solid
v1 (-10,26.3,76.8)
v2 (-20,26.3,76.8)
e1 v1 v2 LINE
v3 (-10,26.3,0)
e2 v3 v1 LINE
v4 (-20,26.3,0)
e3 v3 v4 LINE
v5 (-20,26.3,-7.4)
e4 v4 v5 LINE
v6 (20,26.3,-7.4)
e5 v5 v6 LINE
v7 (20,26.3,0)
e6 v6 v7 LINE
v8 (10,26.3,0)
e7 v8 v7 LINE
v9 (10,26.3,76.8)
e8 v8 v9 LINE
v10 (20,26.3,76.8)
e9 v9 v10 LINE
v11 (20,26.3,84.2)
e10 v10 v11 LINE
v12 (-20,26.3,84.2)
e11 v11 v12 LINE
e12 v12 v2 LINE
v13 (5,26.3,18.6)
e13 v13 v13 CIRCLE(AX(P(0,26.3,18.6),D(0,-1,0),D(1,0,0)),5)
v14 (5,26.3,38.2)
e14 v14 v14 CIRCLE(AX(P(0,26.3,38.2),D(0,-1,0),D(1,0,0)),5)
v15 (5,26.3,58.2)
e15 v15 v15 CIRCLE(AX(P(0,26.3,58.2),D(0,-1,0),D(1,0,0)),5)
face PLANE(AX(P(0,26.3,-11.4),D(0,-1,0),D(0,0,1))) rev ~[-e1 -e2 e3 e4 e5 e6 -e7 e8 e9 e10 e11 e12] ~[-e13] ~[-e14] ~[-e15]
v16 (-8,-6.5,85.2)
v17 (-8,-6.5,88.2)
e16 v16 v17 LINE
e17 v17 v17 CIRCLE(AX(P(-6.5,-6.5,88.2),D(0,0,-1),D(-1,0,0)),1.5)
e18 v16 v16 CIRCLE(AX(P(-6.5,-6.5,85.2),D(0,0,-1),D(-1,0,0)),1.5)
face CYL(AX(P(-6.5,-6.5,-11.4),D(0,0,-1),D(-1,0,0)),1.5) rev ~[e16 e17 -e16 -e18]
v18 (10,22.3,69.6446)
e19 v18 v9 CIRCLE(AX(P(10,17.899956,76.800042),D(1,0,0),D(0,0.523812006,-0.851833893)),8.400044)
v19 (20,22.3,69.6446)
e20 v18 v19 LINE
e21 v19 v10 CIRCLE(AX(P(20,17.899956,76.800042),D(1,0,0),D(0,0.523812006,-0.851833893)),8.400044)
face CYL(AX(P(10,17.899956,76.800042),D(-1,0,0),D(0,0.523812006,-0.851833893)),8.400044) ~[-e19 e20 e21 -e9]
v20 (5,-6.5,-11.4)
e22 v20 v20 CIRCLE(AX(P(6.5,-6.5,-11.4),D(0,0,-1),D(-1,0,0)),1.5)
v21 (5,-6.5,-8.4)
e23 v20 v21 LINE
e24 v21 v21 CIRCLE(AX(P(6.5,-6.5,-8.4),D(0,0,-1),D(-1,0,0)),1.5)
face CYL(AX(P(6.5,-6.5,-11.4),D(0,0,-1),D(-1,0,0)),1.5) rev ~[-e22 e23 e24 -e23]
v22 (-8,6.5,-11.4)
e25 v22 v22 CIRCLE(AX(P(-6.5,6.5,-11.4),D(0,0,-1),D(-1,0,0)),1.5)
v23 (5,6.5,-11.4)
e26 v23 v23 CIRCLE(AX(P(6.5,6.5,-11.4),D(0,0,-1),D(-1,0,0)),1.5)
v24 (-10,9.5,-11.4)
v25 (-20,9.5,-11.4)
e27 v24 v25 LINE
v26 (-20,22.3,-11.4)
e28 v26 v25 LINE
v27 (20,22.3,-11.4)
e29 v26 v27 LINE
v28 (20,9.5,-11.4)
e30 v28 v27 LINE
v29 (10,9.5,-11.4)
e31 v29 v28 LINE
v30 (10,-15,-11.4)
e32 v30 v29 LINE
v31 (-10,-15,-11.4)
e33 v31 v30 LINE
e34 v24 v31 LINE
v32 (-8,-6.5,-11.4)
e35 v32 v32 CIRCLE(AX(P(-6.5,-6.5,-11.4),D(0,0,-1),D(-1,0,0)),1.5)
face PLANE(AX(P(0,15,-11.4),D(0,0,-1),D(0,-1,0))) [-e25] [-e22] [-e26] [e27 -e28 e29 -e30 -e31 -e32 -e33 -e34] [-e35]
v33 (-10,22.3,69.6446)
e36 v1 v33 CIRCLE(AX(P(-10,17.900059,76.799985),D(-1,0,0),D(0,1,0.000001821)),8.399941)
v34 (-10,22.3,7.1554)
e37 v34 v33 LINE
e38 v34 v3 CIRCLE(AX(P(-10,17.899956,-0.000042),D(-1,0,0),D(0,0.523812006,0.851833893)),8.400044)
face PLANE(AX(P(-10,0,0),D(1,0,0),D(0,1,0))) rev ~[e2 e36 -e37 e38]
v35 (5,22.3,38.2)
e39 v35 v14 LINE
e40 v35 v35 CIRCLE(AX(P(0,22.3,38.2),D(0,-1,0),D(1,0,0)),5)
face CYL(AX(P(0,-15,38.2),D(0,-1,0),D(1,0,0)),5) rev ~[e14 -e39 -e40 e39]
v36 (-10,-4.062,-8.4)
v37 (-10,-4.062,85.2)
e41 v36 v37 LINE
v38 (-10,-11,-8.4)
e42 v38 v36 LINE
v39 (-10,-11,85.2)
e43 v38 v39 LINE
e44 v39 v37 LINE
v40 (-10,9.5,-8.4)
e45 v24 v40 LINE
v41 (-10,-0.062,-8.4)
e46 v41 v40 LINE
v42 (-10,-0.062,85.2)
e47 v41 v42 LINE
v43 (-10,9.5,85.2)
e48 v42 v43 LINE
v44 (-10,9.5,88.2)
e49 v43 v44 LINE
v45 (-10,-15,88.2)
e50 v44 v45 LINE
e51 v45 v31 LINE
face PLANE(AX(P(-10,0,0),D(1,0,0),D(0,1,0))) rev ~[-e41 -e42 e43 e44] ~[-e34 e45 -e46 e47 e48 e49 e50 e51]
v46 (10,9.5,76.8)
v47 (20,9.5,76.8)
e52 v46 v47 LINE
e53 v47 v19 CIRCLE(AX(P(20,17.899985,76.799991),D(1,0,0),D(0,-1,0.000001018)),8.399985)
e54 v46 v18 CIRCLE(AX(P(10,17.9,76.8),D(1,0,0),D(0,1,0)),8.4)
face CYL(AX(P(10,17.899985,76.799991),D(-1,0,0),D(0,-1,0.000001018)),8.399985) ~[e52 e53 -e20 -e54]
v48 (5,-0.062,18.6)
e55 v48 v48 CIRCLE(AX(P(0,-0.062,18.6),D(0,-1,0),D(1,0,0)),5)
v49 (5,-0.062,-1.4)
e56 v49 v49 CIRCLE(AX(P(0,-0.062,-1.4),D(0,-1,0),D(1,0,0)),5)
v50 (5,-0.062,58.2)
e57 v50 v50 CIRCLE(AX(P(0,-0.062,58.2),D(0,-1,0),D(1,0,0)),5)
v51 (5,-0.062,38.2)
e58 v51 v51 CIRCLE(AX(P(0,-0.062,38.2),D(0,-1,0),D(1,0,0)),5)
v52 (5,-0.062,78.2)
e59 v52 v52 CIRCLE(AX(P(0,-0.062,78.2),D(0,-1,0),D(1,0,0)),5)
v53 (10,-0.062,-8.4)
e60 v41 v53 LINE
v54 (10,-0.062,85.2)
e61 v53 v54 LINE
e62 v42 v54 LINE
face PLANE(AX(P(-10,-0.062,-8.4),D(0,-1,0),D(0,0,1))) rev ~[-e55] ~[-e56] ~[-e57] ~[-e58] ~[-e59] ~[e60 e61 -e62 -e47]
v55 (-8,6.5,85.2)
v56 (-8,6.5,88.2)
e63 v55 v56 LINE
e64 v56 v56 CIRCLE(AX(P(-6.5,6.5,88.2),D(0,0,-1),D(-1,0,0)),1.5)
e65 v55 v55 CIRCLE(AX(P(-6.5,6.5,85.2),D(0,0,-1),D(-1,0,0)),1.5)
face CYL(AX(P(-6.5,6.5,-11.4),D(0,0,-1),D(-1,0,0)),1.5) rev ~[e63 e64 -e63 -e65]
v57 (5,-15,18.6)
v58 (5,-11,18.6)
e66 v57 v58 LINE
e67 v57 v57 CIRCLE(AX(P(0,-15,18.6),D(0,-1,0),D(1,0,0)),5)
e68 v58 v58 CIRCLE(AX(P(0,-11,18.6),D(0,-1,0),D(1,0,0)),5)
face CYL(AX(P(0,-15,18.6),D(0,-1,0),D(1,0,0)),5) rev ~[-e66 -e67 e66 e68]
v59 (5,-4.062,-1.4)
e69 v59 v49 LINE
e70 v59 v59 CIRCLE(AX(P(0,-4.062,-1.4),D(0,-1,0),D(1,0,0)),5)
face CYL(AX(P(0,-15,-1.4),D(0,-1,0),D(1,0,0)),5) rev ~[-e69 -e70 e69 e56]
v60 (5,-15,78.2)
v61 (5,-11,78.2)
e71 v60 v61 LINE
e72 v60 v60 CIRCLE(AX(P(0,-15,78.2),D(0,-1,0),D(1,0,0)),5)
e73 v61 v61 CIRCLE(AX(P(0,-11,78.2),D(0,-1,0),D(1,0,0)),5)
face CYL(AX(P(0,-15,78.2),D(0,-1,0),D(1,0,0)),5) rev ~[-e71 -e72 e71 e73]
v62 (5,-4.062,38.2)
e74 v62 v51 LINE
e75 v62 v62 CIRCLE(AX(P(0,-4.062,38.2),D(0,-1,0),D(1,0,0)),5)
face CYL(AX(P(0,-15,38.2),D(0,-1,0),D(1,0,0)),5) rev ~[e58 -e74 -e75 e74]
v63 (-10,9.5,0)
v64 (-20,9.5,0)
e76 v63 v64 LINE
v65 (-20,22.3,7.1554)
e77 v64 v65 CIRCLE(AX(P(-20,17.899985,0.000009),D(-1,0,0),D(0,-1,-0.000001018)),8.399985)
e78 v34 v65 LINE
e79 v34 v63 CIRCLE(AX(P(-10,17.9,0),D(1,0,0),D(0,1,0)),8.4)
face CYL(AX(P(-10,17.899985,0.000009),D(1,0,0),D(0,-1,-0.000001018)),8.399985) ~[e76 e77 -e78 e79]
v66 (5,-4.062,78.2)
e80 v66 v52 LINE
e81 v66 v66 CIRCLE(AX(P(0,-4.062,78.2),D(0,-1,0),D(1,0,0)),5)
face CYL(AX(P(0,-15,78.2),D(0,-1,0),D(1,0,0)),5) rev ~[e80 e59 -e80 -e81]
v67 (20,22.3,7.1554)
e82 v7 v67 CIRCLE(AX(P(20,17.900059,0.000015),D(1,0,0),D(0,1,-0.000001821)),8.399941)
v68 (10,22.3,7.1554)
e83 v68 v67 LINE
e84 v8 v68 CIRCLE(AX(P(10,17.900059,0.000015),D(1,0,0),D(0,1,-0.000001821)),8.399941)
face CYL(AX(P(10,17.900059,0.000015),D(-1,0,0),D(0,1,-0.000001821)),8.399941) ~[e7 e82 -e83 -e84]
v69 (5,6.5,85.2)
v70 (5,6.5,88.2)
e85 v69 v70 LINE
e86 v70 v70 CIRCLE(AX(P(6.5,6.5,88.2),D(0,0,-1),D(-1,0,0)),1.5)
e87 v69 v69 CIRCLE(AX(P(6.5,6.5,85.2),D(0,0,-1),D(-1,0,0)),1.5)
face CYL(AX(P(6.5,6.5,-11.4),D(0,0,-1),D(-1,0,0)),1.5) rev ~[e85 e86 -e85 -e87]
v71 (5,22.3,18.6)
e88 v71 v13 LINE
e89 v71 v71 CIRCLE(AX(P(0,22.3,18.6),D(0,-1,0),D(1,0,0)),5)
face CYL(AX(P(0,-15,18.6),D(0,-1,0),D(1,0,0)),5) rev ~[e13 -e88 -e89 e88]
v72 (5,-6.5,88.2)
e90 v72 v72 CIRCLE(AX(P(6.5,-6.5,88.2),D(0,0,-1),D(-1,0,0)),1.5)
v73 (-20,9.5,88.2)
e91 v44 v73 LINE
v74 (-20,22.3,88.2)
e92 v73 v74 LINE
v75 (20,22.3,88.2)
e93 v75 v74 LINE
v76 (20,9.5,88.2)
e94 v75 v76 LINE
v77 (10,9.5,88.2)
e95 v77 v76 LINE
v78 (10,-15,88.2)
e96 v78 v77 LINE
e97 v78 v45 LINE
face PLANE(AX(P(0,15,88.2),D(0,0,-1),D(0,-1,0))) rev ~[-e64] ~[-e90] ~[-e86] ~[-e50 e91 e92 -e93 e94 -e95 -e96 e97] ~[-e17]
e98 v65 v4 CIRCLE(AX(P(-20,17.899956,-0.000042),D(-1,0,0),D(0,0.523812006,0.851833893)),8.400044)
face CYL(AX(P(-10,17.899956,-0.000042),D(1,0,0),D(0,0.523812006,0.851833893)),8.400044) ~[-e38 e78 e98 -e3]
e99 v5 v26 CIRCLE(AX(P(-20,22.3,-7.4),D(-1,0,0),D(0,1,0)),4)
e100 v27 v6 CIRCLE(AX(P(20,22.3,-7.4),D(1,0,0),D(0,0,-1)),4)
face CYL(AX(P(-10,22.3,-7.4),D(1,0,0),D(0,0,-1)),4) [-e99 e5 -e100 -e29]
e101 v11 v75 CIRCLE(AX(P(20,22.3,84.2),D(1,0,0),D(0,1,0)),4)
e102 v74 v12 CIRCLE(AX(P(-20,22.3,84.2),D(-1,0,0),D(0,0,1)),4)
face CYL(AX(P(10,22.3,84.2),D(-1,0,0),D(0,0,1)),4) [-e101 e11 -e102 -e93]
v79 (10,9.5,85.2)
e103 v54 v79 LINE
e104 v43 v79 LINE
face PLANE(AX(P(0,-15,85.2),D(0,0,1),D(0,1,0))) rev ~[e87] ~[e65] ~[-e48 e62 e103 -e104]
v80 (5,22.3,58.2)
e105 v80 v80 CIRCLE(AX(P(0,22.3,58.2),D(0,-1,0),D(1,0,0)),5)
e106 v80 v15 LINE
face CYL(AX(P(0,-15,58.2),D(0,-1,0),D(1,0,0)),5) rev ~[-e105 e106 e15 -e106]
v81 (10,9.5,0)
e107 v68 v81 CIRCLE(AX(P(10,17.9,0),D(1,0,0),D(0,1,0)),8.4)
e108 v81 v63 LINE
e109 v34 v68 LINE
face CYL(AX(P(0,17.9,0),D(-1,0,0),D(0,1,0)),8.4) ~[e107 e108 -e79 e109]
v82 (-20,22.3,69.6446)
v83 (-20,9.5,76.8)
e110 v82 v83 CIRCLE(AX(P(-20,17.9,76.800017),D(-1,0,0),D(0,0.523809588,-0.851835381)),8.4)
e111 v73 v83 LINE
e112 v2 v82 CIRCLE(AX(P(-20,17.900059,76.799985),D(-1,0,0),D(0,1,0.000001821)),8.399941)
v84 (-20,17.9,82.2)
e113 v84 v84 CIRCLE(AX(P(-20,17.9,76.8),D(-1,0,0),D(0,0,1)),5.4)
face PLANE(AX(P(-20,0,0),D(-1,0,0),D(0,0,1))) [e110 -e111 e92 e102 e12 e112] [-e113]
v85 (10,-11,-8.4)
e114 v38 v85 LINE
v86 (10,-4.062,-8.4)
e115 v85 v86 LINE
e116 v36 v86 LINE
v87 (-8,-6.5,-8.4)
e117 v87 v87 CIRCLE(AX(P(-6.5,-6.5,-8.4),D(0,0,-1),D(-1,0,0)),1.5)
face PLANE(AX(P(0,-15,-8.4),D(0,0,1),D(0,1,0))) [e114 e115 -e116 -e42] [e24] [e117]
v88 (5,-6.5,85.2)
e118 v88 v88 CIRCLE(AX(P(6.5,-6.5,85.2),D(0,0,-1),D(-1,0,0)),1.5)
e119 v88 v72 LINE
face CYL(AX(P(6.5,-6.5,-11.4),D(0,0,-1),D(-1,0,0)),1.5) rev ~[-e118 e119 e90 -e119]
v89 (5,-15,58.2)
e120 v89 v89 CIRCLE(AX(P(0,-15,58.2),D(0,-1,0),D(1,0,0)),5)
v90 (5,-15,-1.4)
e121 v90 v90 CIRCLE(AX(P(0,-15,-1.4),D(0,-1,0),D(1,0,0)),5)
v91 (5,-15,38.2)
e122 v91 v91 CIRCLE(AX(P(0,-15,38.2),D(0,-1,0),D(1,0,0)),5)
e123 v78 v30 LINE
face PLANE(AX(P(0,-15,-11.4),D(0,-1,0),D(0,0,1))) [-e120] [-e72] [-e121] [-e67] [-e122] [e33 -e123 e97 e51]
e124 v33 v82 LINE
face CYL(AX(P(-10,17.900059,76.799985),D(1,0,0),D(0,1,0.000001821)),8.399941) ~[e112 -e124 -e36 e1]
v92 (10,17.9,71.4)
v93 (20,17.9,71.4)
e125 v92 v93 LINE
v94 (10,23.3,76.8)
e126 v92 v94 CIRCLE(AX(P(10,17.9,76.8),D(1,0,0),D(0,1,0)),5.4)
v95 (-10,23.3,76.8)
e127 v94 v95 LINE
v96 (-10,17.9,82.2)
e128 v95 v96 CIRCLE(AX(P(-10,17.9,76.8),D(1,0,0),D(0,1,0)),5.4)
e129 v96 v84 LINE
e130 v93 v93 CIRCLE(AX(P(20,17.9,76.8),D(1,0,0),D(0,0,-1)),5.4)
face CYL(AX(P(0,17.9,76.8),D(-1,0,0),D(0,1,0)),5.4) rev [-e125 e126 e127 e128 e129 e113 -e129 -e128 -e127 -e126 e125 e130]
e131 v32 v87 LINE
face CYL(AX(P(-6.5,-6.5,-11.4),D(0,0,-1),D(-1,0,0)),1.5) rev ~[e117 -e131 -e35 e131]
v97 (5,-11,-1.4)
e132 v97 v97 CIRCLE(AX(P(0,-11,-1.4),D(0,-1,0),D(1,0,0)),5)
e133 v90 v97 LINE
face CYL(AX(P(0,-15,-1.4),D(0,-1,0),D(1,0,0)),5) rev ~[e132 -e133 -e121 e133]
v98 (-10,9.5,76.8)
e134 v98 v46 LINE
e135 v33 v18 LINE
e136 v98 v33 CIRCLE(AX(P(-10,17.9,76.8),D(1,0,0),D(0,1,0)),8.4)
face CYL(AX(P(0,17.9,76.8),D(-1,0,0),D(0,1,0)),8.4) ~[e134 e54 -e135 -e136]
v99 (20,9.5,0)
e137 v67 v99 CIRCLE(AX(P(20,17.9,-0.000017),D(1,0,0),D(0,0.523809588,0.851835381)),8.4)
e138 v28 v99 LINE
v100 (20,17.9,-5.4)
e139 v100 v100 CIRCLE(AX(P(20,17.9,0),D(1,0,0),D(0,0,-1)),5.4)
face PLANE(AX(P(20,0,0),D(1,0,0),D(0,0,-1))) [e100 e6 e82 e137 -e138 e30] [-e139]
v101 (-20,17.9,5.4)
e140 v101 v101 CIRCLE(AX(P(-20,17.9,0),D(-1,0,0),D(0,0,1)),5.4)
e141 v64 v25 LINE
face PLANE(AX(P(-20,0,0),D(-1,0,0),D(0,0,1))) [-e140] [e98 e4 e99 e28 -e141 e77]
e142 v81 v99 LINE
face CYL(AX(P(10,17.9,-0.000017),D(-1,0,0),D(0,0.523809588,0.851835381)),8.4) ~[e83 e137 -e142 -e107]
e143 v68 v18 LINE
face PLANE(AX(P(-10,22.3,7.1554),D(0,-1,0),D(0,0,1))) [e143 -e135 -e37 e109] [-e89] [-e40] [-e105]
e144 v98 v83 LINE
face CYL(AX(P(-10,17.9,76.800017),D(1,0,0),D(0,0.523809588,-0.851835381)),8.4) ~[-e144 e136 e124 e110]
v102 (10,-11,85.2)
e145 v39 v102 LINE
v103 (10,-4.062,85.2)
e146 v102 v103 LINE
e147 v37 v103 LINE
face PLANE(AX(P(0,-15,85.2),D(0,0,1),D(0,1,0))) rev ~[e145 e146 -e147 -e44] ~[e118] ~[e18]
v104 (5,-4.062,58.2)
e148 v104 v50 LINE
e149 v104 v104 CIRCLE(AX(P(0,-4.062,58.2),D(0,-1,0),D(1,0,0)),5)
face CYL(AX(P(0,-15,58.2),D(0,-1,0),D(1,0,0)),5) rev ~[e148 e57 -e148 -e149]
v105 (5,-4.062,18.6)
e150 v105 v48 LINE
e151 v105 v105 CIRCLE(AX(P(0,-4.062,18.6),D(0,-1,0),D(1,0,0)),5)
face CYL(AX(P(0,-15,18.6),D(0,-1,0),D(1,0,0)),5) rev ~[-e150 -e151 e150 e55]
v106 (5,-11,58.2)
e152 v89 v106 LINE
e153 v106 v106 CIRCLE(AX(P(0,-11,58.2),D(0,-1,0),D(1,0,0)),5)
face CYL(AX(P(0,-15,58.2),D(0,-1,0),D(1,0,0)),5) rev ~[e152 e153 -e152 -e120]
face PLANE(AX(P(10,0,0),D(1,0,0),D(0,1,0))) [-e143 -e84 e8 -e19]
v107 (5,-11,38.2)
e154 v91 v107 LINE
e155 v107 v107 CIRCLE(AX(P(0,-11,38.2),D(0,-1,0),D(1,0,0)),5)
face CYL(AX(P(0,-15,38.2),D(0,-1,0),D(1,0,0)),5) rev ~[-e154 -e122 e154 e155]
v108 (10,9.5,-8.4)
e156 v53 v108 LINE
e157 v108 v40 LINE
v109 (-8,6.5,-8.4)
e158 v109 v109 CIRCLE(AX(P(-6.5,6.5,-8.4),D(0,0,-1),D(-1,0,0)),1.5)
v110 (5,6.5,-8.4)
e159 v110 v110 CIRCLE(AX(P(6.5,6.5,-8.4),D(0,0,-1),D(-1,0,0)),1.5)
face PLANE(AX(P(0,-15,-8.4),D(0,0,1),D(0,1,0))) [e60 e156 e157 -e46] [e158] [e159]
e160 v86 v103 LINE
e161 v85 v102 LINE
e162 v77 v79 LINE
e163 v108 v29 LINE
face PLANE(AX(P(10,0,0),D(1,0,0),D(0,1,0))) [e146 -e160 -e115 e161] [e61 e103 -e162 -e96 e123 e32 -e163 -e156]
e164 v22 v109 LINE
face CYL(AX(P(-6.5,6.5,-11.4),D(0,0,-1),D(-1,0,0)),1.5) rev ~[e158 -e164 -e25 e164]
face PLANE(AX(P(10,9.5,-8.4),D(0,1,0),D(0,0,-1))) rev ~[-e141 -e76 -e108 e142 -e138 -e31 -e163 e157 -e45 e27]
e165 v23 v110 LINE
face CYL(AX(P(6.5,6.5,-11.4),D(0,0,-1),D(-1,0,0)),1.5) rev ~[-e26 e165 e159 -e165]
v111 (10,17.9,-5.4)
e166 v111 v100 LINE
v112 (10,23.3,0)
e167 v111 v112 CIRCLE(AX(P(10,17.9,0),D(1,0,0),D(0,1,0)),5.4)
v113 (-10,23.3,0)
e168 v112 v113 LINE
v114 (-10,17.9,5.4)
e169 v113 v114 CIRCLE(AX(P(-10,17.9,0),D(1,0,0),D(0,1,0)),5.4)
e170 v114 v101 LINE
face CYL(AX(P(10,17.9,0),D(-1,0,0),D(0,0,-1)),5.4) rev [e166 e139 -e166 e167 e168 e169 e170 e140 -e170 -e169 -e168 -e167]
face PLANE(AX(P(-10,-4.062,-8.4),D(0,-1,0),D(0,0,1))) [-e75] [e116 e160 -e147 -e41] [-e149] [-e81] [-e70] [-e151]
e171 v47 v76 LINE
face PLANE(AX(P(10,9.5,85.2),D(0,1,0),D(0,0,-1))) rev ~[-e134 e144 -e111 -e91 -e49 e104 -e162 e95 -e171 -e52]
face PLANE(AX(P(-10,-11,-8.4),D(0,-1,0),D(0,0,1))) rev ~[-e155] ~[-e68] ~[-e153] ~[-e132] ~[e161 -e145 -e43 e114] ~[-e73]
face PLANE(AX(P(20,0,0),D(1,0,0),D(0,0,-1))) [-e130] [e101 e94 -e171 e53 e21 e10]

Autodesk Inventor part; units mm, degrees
ref_plane "YZ Plane" through (0, 0, 0) normal (1, 0, 0) x (0, 1, 0)
ref_plane "XZ Plane" through (0, 0, 0) normal (0, 1, 0) x (-1, 0, 0)
ref_plane "XY Plane" through (0, 0, 0) normal (0, 0, 1) x (1, 0, 0)
sketch "스케치1" plane through (0, 0, 0) normal (1, 0, 0) x (0, 1, 0)
  line L0 (-15, -8.4) -> (15, -8.4)
  line L1 (15, -8.4) -> (15, -11.4)
  line L2 (15, -11.4) -> (-15, -11.4)
  line L3 (-15, -11.4) -> (-15, -8.4)
  line L4 (-15, -8.4) -> (15, -11.4) construction
  line L5 (15, -8.4) -> (-15, -11.4) construction
  line L6 (-10.7716, 0) -> (20.6854, 0) construction
  circle A0 centre (17.9, 0) radius 5.4
  circle A1 centre (17.9, 0) radius 8.4
  line L7 (9.5, -4.3302) -> (9.5, -23.7251) construction
  line L8 (15, -8.4) -> (17.9, -8.4)
  line L9 (9.5, 0) -> (9.5, -8.4)
  line L10 (56.0253, 38.4) -> (-49.003, 38.4) construction
  line L11 (-15, 85.2) -> (15, 85.2)
  line L12 (15, 85.2) -> (15, 88.2)
  line L13 (15, 88.2) -> (-15, 88.2)
  line L14 (-15, 88.2) -> (-15, 85.2)
  line L15 (-15, 85.2) -> (15, 88.2) construction
  line L16 (15, 85.2) -> (-15, 88.2) construction
  line L17 (-10.7716, 76.8) -> (20.6854, 76.8) construction
  circle A2 centre (17.9, 76.8) radius 5.4
  circle A3 centre (17.9, 76.8) radius 8.4
  line L18 (9.5, 81.1302) -> (9.5, 100.5251) construction
  line L19 (15, 85.2) -> (17.9, 85.2)
  line L20 (9.5, 76.8) -> (9.5, 85.2)
  line L21 (15, -11.4) -> (26.3, -11.4)
  line L22 (26.3, -11.4) -> (26.3, 0)
  line L23 (15, 88.2) -> (26.3, 88.2)
  line L24 (26.3, 88.2) -> (26.3, 76.8)
  point P0 (0, -9.9)
  point P1 (6.5, -8.4)
  point P2 (22.1201, -7.263)
  point P3 (0, 86.7)
  point P4 (6.5, 85.2)
  point P5 (22.1201, 84.063)
  dimension "d2" = 30
  dimension "d3" = 3
  dimension "d9" = 10.8
  dimension "d10" = 16.8
  dimension "d11" = 8.5
  dimension "d12" = 3
  dimension "d20" = 38.4
extrude "돌출1" add sketch "스케치1" along normal mid plane 20
fillet "모깎기1" radius 4 2 edges at (0, 26.3, -11.4) (0, 26.3, 88.2)
sketch "스케치4" plane through (10, -15, -11.4) normal (0, 0, -1) x (-1, 0, 0)
  line L0 (-6.6272, 15) -> (50.9826, 15) construction
  line L1 (10, 54.1091) -> (10, -11.8144) construction
  circle A0 centre (3.5, 8.5) radius 1.5
  line L2 (20, 0) -> (0, 0) projected
  line L3 (0, 0) -> (0, 37.3) projected
  circle A1 centre (16.5, 8.5) radius 1.5
  circle A2 centre (3.5, 21.5) radius 1.5
  circle A3 centre (16.5, 21.5) radius 1.5
  circle A4 centre (10, 32.9) radius 1.25
  line L4 (20, 41.3) -> (0, 41.3) projected
  point P0 (10, 15)
  dimension "d22" = 3
  dimension "d23" = 8.5
  dimension "d24" = 3.5
  dimension "d27" = 2.5
  dimension "d28" = 8.4
extrude "돌출4" cut sketch "스케치4" against normal through all contours A0 | A1 | A2 | A3
sketch "스케치5" plane through (-10, 0, 0) normal (-1, 0, 0) x (0, 0, 1)
  circle A0 centre (0, 17.9) radius 5.4 projected
  arc A1 (-7.4, 26.3) -> (-11.4, 22.3) centre (-7.4, 22.3) ccw projected
  line L0 (-11.4, 22.3) -> (-11.4, -15) projected
  line L1 (-11.4, -15) -> (-8.4, -15) projected
  line L2 (-8.4, -15) -> (-8.4, 9.5) projected
  line L3 (-8.4, 9.5) -> (0, 9.5) projected
  arc A2 (0, 9.5) -> (0, 26.3) centre (0, 17.9) ccw projected
  line L4 (0, 26.3) -> (-7.4, 26.3) projected
  circle A3 centre (76.8, 17.9) radius 5.4 projected
  arc A4 (88.2, 22.3) -> (84.2, 26.3) centre (84.2, 22.3) ccw projected
  line L5 (84.2, 26.3) -> (76.8, 26.3) projected
  arc A5 (76.8, 26.3) -> (76.8, 9.5) centre (76.8, 17.9) ccw projected
  line L6 (76.8, 9.5) -> (85.2, 9.5) projected
  line L7 (85.2, 9.5) -> (85.2, -15) projected
  line L8 (85.2, -15) -> (88.2, -15) projected
  line L9 (88.2, -15) -> (88.2, 22.3) projected
  line L10 (-8.4, -15) -> (85.2, -15)
  line L11 (-8.4, -11) -> (85.2, -11)
  line L12 (85.2, -15) -> (88.2, -15) projected
  line L13 (-8.4, 9.5) -> (-8.4, -15) projected
  line L14 (0, 26.3) -> (76.8, 26.3)
  circle A6 centre (0, 17.9) radius 5.4 projected
  circle A7 centre (76.8, 17.9) radius 5.4 projected
  line L15 (-8.4, -2.062) -> (85.2, -2.062) construction
  line L16 (-8.4, -4.062) -> (85.2, -4.062)
  line L17 (7.1554, 22.3) -> (69.6446, 22.3)
  line L18 (-8.4, -0.062) -> (85.2, -0.062)
  point P0 (0, 0)
  point P1 (0, -6.5)
  point P2 (0, 6.5)
  point P3 (0, 0)
  dimension "d29" = 4
  dimension "d31" = 8.5
  dimension "d32" = 13
  dimension "d33" = 6.5
  dimension "d34" = 2
  dimension "d35" = 4
extrude "돌출5" add sketch "스케치5" against normal up to surface (20 mm away) contours L14 A5 L17 A2 | L2 L11 L7 L10 | L2 L18 L7 L16
sketch "스케치6" plane through (-10, -15, -11.4) normal (0, -1, 0) x (1, 0, 0)
  circle A0 centre (10, 10) radius 5
  line L0 (0, 0) -> (20, 0) projected
  line L1 (10, 10) -> (10, 54.4458) construction
  circle A1 centre (10, 89.6) radius 5
  line L2 (0, 99.6) -> (20, 99.6) projected
  circle A2 centre (10, 30) radius 5
  circle A3 centre (10, 69.6) radius 5
  circle A4 centre (10, 49.6) radius 5
  point P0 (10, 11.4)
  dimension "d38" = 10
  dimension "d39" = 10
  dimension "d40" = 10
  dimension "d41" = 10
  dimension "d44" = 20
  dimension "d51" = 20
extrude "돌출6" cut sketch "스케치6" against normal up to surface (14.938 mm away)
extrude "돌출7" cut sketch "스케치6" against normal through all contours A2 | A3 | A4
sketch "스케치7" plane through (-10, 0, 0) normal (-1, 0, 0) x (0, 0, 1)
  arc A0 (0, 9.5) -> (7.1554, 22.3) centre (0, 17.9) ccw projected
  arc A1 (69.6446, 22.3) -> (76.8, 9.5) centre (76.8, 17.9) ccw projected
  line L0 (-8.4, 9.5) -> (0, 9.5) projected
  line L1 (-11.4, 22.3) -> (-11.4, -15) projected
  arc A2 (-7.4, 26.3) -> (-11.4, 22.3) centre (-7.4, 22.3) ccw projected
  line L2 (84.2, 26.3) -> (-7.4, 26.3) projected
  arc A3 (88.2, 22.3) -> (84.2, 26.3) centre (84.2, 22.3) ccw projected
  line L3 (88.2, -15) -> (88.2, 22.3) projected
  line L4 (76.8, 9.5) -> (85.2, 9.5) projected
  line L5 (-8.4, 9.5) -> (-11.4, 9.5)
  line L6 (85.2, 9.5) -> (88.2, 9.5)
  arc A4 (7.1554, 22.3) -> (0, 26.3) centre (0, 17.9) ccw
  line L7 (7.1554, 22.3) -> (69.6446, 22.3) projected
  arc A5 (76.8, 26.3) -> (69.6446, 22.3) centre (76.8, 17.9) ccw
  circle A6 centre (0, 17.9) radius 5.4 projected
  circle A7 centre (76.8, 17.9) radius 5.4 projected
  point P0 (0, 0)
extrude "돌출8" add sketch "스케치7" along normal blind 10 contours L0 L5 L1 A2 L2 A4 A0 | A5 L2 A3 L3 L6 L4 A1
sketch "스케치8" plane through (10, 0, 0) normal (1, 0, 0) x (0, 0, -1)
  line L0 (0, 9.5) -> (8.4, 9.5) projected
  arc A0 (-7.1554, 22.3) -> (0, 9.5) centre (0, 17.9) ccw projected
  arc A1 (0, 26.3) -> (-7.1554, 22.3) centre (0, 17.9) ccw projected
  line L1 (7.4, 26.3) -> (-84.2, 26.3) projected
  arc A2 (11.4, 22.3) -> (7.4, 26.3) centre (7.4, 22.3) ccw projected
  line L2 (11.4, -15) -> (11.4, 22.3) projected
  circle A3 centre (0, 17.9) radius 5.4 projected
  line L3 (8.4, 9.5) -> (11.4, 9.5) projected
  arc A4 (-76.8, 9.5) -> (-69.6446, 22.3) centre (-76.8, 17.9) ccw projected
  line L4 (-85.2, 9.5) -> (-76.8, 9.5) projected
  arc A5 (-69.6446, 22.3) -> (-76.8, 26.3) centre (-76.8, 17.9) ccw projected
  arc A6 (-84.2, 26.3) -> (-88.2, 22.3) centre (-84.2, 22.3) ccw projected
  circle A7 centre (-76.8, 17.9) radius 5.4 projected
  line L5 (-88.2, 9.5) -> (-85.2, 9.5) projected
  line L6 (-88.2, 22.3) -> (-88.2, -15) projected
  point P0 (0, 0)
extrude "돌출9" add sketch "스케치8" along normal blind 10
sketch "스케치9" plane through (10, -15, -11.4) normal (0, 0, -1) x (-1, 0, 0)
  circle A0 centre (16.5, 8.5) radius 1.5 projected
  circle A1 centre (3.5, 8.5) radius 1.5 projected
  circle A2 centre (3.5, 21.5) radius 1.5 projected
  circle A3 centre (16.5, 21.5) radius 1.5 projected
  line L0 (-10, 37.3) -> (30, 37.3) projected
  line L1 (-10, 24.5) -> (-10, 37.3) projected
  line L2 (0, 24.5) -> (-10, 24.5) projected
  line L3 (0, 0) -> (0, 24.5) projected
  line L4 (20, 0) -> (0, 0) projected
  line L5 (20, 24.5) -> (20, 0) projected
  line L6 (20, 24.5) -> (30, 24.5) projected
  line L7 (30, 37.3) -> (30, 24.5) projected
  line L8 (5, 37.3) -> (5, 41.3) projected
  line L9 (5, 37.3) -> (5, 41.3) projected
  line L10 (5, 37.3) -> (5, 41.3) projected
  line L11 (30, 41.3) -> (-10, 41.3) projected
  line L12 (-10, 37.3) -> (30, 37.3) projected
  line L13 (30, 41.3) -> (30, 37.3) projected
  line L14 (30, 41.3) -> (-10, 41.3) projected
  line L15 (-10, 37.3) -> (-10, 41.3) projected
  line L16 (-10, 32.9) -> (30, 32.9) construction
  circle A4 centre (-5, 32.9) radius 1.25
  circle A5 centre (25, 32.9) radius 1.25
  point P0 (10, 15)
  dimension "d64" = 8.4
  dimension "d65" = 2.5
  dimension "d66" = 2.5
  dimension "d67" = 5
  dimension "d68" = 5
properties part number "top"
